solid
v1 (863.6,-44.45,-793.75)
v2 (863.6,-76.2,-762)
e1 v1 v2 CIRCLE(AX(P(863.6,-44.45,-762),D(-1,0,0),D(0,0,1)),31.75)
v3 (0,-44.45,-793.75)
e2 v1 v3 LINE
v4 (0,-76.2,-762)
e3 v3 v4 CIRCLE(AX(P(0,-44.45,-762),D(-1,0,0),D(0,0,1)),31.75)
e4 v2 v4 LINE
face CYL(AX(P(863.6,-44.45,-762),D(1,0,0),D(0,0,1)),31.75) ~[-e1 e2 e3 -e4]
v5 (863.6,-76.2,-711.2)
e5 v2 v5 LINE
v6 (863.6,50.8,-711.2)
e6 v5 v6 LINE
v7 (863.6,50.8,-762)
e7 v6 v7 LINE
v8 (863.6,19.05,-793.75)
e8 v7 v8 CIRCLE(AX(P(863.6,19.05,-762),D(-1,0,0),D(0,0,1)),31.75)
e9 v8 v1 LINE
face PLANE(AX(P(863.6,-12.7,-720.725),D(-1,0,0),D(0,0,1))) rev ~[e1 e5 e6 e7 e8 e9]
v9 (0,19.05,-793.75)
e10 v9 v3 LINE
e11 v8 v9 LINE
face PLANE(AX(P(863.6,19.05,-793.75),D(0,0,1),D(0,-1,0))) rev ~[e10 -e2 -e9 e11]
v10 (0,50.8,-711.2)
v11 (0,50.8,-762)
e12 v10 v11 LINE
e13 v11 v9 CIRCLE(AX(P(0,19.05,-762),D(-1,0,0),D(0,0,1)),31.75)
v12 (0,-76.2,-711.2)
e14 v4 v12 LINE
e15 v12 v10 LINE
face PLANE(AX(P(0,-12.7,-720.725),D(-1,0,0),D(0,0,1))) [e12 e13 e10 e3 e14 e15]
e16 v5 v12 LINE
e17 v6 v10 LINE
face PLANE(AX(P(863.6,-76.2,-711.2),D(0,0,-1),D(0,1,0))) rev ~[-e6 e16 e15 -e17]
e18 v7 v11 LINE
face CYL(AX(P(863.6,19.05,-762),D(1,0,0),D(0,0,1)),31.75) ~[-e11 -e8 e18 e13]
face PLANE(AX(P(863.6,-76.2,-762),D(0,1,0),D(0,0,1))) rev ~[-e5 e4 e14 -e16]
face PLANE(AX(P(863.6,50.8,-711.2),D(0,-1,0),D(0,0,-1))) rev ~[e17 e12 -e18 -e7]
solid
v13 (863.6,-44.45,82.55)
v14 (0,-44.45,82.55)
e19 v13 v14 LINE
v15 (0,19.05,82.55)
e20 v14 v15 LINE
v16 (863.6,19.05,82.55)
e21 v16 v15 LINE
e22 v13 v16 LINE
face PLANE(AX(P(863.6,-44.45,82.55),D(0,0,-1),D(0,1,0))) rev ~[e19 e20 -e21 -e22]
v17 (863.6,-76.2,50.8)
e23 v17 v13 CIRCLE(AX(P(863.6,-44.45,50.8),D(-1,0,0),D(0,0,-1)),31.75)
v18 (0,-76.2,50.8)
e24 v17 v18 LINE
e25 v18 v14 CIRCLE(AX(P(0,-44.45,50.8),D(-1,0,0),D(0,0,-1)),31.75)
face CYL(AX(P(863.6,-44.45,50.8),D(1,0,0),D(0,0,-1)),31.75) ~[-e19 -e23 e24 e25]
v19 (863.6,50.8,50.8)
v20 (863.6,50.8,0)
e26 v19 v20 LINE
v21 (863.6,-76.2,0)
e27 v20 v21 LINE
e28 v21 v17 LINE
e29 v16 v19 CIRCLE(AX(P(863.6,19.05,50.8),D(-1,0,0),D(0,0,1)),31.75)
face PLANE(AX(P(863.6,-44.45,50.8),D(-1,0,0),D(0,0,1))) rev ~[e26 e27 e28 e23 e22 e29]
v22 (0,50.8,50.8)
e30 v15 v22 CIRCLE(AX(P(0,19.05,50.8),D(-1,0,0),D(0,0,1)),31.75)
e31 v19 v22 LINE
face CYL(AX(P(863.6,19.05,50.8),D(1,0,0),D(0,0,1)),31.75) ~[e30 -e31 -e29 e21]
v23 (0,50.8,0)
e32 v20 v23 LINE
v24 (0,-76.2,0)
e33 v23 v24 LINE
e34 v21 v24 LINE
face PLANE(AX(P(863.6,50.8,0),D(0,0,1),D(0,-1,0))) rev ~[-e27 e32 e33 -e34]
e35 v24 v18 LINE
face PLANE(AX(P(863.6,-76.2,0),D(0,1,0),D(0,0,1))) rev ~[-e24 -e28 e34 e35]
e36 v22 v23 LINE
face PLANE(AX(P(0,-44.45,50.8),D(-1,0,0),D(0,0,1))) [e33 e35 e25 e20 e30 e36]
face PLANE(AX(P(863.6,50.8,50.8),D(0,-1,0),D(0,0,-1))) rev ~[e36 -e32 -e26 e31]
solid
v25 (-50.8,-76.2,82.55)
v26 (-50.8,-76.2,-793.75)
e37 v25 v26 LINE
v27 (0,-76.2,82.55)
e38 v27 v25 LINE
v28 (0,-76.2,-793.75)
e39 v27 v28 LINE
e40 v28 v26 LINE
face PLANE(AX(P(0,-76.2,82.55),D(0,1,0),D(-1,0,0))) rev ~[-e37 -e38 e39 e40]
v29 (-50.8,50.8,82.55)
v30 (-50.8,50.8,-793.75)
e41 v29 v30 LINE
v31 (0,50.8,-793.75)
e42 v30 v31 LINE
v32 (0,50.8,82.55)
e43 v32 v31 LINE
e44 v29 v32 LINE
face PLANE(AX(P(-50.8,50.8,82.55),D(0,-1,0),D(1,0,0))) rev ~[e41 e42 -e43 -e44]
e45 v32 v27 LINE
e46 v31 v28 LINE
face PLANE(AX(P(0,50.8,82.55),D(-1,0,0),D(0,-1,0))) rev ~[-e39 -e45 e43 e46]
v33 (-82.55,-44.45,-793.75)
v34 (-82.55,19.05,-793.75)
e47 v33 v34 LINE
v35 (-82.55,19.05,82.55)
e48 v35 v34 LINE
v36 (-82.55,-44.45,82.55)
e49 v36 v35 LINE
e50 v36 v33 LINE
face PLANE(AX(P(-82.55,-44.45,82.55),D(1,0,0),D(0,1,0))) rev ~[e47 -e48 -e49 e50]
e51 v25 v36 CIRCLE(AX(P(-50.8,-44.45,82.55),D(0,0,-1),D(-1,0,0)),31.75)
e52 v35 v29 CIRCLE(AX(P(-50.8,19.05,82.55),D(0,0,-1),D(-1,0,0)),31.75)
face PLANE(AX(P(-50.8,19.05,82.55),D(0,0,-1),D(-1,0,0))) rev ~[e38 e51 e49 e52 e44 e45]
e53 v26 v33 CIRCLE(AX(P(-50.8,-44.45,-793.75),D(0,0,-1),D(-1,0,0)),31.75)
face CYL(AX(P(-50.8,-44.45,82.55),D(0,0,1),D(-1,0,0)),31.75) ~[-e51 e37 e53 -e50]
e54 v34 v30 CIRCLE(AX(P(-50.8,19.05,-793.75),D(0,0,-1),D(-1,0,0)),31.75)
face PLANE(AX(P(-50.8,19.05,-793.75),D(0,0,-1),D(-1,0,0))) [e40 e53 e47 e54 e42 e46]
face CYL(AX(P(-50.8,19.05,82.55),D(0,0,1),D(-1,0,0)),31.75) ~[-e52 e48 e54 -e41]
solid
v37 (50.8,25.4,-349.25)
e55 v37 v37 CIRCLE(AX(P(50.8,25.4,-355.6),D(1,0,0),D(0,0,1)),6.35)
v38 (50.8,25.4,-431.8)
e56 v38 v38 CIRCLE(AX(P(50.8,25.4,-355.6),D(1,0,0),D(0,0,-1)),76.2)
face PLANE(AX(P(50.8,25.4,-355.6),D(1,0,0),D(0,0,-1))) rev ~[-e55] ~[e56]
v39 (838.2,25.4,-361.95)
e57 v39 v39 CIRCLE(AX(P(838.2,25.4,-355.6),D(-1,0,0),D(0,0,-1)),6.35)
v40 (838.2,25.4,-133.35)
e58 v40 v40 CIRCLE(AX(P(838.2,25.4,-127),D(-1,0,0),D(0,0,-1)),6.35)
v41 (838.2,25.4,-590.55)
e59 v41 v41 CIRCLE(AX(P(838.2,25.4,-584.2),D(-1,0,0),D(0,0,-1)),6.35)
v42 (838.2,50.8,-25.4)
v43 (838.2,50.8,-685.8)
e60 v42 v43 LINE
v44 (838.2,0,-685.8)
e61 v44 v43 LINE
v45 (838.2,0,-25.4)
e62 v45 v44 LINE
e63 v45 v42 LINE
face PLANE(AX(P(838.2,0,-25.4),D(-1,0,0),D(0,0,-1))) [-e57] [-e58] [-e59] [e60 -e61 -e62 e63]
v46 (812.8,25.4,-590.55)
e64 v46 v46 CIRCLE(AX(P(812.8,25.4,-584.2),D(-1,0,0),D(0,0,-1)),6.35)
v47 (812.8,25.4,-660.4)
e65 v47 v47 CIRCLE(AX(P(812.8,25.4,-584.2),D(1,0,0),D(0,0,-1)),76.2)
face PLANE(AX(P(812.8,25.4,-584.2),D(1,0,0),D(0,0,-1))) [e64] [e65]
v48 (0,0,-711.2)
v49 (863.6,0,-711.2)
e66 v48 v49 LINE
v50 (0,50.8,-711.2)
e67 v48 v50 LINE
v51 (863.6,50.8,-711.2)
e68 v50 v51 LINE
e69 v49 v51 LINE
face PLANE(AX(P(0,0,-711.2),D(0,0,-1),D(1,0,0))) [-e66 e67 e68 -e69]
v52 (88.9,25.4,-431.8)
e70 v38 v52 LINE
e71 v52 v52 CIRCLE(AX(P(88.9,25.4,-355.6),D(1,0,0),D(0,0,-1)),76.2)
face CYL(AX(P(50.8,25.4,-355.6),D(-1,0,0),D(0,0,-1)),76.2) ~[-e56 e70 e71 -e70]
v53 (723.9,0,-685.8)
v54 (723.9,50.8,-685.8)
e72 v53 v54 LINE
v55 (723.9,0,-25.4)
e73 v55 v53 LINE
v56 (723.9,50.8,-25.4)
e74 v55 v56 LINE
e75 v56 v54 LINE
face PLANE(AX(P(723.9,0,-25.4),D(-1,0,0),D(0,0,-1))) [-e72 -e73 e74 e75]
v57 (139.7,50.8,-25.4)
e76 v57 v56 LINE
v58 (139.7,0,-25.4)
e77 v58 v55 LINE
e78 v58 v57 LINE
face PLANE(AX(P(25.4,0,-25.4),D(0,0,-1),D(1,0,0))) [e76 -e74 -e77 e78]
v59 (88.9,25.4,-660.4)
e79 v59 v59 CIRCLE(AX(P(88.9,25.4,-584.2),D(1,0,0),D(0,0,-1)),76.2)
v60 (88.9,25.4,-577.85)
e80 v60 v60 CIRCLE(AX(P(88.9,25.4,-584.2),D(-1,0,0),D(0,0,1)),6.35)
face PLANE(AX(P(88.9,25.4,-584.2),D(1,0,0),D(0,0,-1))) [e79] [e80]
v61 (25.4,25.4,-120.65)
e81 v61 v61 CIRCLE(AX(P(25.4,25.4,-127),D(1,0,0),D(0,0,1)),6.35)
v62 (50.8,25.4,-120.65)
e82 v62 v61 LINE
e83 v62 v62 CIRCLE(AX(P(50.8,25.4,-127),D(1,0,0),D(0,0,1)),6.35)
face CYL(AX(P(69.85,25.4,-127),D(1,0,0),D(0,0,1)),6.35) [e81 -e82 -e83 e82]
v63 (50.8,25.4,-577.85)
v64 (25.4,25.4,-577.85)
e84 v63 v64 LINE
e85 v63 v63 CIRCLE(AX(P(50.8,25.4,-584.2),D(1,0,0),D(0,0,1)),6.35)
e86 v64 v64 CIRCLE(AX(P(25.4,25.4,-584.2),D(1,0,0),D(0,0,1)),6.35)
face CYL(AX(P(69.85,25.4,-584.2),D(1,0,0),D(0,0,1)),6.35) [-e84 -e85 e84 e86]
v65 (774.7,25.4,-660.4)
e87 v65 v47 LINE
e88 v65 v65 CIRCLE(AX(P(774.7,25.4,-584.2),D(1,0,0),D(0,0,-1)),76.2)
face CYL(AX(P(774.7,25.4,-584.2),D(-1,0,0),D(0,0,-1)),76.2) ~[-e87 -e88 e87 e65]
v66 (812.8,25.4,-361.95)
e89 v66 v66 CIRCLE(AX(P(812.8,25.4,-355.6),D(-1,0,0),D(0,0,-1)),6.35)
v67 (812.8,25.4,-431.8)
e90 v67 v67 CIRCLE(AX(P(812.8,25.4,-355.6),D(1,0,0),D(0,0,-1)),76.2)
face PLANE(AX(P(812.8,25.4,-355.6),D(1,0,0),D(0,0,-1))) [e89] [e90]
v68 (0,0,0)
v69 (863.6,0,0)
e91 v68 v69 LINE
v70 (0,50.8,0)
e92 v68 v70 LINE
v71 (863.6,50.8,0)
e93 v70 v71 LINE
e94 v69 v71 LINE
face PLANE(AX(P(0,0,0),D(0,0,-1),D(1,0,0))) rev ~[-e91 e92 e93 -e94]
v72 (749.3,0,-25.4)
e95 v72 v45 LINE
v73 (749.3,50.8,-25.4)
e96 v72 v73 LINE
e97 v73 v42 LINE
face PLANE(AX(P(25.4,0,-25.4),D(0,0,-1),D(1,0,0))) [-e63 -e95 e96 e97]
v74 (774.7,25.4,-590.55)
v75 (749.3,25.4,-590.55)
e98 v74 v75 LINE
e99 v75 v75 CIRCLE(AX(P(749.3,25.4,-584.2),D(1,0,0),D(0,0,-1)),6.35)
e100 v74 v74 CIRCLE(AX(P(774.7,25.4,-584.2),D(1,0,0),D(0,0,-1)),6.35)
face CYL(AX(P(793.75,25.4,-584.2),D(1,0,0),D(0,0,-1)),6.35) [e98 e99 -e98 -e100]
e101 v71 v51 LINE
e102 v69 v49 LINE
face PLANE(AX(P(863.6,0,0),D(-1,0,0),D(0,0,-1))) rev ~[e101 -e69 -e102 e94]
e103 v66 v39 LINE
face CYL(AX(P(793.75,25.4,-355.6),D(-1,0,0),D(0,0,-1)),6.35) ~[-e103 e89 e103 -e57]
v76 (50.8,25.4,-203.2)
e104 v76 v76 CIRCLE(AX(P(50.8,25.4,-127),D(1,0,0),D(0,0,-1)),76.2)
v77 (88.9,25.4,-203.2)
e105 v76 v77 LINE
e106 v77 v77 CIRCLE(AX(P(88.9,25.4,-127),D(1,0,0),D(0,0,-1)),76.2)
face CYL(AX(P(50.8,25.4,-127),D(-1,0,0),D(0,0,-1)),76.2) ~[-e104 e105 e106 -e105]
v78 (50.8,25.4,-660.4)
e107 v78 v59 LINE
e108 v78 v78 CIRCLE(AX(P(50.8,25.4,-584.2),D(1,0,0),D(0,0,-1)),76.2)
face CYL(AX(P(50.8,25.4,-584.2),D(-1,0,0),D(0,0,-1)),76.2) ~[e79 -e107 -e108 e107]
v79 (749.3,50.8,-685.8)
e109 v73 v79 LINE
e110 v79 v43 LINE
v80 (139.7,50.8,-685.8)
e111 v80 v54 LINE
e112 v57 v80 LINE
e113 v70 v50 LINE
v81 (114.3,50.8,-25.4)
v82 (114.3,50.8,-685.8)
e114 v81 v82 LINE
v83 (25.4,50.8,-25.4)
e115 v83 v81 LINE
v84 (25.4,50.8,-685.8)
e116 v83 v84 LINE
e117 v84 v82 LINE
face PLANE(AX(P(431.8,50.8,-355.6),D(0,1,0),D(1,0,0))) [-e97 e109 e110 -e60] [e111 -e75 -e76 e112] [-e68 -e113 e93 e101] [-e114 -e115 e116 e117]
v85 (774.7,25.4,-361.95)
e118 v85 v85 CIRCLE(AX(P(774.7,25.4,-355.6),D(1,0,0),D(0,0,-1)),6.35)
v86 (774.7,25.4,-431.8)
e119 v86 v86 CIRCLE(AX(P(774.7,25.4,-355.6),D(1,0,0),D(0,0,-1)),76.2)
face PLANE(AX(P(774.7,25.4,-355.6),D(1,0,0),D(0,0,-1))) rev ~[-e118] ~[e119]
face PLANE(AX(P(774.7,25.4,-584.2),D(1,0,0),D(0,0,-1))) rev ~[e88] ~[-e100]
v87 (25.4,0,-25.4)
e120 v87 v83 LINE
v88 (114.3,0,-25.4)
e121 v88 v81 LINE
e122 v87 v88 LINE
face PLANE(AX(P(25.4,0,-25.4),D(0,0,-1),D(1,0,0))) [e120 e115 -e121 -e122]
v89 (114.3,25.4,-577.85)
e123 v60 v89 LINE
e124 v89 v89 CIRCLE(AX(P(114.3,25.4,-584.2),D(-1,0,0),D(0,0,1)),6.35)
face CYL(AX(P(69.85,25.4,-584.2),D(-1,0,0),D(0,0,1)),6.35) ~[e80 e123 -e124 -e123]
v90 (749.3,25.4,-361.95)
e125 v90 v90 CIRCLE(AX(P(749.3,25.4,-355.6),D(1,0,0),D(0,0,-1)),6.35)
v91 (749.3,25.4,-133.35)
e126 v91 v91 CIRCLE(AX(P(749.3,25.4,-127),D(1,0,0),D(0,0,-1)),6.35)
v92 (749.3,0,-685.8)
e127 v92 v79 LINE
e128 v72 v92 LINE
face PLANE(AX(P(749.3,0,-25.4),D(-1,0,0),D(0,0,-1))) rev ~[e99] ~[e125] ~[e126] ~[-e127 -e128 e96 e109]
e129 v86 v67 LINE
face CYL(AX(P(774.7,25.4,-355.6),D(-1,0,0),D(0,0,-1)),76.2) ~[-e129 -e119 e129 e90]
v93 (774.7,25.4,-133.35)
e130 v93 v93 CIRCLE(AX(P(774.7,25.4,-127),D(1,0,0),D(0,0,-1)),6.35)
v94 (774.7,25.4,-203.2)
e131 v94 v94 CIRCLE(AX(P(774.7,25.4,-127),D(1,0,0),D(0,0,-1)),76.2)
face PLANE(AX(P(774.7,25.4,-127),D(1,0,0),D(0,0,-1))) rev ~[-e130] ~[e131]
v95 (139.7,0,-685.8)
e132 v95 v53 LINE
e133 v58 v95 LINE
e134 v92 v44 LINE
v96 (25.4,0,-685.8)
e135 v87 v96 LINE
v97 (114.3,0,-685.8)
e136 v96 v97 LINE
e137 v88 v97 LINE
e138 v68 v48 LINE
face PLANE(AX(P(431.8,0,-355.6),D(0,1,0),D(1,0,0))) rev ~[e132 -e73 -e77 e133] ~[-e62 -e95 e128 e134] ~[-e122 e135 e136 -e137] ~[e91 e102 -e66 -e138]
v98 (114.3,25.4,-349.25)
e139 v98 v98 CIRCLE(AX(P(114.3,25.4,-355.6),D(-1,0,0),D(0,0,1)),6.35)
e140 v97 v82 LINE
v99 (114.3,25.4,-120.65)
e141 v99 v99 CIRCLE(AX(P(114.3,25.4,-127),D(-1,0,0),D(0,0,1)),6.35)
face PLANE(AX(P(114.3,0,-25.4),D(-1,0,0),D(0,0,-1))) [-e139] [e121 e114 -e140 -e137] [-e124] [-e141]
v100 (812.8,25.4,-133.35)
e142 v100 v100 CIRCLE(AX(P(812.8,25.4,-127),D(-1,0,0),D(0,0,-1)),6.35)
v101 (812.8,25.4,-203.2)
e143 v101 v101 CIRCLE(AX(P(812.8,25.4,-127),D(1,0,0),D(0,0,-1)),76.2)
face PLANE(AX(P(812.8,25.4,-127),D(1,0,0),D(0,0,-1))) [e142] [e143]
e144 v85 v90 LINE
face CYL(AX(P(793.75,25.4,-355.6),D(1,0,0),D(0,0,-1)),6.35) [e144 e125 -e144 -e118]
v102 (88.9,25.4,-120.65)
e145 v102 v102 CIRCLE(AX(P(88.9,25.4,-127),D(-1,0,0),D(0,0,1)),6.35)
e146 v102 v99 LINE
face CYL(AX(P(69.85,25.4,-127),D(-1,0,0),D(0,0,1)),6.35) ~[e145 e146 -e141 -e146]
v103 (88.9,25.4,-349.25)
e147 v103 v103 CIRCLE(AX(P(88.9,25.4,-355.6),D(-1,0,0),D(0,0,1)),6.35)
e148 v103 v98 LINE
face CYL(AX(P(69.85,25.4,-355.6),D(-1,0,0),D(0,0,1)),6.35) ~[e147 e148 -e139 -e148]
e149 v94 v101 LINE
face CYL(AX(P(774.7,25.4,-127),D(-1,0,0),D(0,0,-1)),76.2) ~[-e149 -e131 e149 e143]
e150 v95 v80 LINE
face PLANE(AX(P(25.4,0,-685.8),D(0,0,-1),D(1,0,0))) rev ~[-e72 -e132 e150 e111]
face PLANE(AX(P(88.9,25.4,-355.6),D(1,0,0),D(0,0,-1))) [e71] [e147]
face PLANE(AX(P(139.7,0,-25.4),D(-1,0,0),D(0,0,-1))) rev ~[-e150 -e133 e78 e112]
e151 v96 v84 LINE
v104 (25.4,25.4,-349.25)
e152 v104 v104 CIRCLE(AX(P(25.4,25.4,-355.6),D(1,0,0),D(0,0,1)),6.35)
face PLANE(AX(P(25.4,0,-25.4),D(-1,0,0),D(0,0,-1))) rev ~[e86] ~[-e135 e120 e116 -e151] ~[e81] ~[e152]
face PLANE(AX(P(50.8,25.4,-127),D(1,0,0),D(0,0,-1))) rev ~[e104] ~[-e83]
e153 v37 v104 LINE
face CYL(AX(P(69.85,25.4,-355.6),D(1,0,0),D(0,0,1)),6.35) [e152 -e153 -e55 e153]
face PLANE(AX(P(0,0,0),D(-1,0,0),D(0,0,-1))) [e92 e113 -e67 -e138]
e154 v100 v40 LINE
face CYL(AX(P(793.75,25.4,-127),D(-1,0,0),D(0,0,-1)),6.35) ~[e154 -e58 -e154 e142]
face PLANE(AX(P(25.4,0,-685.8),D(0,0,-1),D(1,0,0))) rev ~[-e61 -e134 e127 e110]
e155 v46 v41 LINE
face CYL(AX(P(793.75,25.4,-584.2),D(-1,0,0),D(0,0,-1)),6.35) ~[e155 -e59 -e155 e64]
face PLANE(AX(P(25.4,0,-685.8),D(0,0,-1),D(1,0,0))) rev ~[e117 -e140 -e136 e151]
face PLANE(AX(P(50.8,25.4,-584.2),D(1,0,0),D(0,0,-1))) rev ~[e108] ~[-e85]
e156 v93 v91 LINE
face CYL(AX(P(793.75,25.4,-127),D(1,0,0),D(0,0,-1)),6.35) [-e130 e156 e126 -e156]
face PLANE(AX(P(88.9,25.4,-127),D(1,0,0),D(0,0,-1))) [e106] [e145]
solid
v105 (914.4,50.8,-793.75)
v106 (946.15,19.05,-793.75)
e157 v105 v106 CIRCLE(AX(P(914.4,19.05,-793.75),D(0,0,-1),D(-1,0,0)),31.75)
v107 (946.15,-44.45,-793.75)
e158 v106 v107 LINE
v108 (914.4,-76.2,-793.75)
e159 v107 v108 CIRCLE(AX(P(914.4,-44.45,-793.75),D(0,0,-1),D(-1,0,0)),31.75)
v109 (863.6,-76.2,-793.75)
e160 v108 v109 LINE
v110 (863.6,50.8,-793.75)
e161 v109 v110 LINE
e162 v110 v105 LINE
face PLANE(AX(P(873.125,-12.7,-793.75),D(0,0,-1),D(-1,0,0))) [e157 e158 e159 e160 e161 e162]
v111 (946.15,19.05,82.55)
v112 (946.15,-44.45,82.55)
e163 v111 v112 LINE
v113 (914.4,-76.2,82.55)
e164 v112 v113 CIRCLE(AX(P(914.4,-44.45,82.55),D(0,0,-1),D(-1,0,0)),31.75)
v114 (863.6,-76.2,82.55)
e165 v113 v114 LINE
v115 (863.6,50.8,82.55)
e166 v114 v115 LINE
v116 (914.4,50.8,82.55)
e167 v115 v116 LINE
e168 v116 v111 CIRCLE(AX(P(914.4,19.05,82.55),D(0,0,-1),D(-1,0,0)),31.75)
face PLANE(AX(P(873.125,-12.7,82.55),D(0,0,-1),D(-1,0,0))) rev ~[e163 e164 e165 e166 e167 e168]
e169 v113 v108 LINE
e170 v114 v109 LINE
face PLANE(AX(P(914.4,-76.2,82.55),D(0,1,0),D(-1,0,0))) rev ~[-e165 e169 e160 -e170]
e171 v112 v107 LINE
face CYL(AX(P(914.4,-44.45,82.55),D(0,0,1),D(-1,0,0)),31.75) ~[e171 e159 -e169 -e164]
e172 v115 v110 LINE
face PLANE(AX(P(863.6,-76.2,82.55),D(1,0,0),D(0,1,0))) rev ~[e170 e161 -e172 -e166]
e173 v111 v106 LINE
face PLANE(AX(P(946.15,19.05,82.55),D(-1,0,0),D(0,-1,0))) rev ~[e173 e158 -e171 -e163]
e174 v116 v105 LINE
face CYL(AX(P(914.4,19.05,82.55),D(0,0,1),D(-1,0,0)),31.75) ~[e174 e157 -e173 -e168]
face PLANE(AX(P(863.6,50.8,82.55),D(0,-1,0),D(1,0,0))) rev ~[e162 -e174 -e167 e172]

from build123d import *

# Parameters (mm, degrees)
SKETCH1_W                       = 863.6
SKETCH1_H                       = 711.2
SKETCH1_W_2                     = 812.8
SKETCH1_H_2                     = 660.4
SKETCH1_W_3                     = 25.4
BOSS_EXTRUDE1_DEPTH             = 50.8
BOSS_EXTRUDE2_DEPTH             = 19.05
BOSS_EXTRUDE2_DEPTH_BACK        = 19.05
SKETCH3_R                       = 76.2
BOSS_EXTRUDE2_2_DEPTH           = 19.05
BOSS_EXTRUDE2_2_DEPTH_BACK      = 19.05
BOSS_EXTRUDE2_3_DEPTH           = 19.05
BOSS_EXTRUDE2_3_DEPTH_BACK      = 19.05
BOSS_EXTRUDE3_REACH             = 1072.592
SKETCH4_R                       = 6.35
BOSS_EXTRUDE3_DIRECTION_2_REACH = 1072.592
BOSS_EXTRUDE4_DEPTH             = 19.05
BOSS_EXTRUDE4_DEPTH_BACK        = 19.05
SKETCH5_R                       = 76.2
BOSS_EXTRUDE4_2_DEPTH           = 19.05
BOSS_EXTRUDE4_2_DEPTH_BACK      = 19.05
BOSS_EXTRUDE4_3_DEPTH           = 19.05
BOSS_EXTRUDE4_3_DEPTH_BACK      = 19.05
BOSS_EXTRUDE5_REACH             = 1072.592
SKETCH6_R                       = 6.35
BOSS_EXTRUDE5_DIRECTION_2_REACH = 1072.592
BOSS_EXTRUDE6_DEPTH             = 82.55
BOSS_EXTRUDE6_DEPTH_BACK        = 793.75
SKETCH7_R                       = 31.75
SKETCH8_R                       = 31.75
BOSS_EXTRUDE7_DEPTH             = 863.6


with BuildPart() as part:
    # Sketch1 → Boss-Extrude1 (new body)
    # profile 1 of 3: a face of its own
    with BuildSketch(Plane(origin=(0, 0, 0), x_dir=(1, 0, 0), z_dir=(0, 1, 0))):
        with Locations((431.8, 355.6)):
            Rectangle(SKETCH1_W, SKETCH1_H)
        with Locations((431.8, 355.6)):
            Rectangle(SKETCH1_W_2, SKETCH1_H_2, mode=Mode.SUBTRACT)
    # profile 2 of 3: a face of its own
    with BuildSketch(Plane(origin=(0, 0, 0), x_dir=(1, 0, 0), z_dir=(0, 1, 0))):
        with Locations((127, 355.6)):
            Rectangle(SKETCH1_W_3, SKETCH1_H_2)
    # profile 3 of 3: a face of its own
    with BuildSketch(Plane(origin=(0, 0, 0), x_dir=(1, 0, 0), z_dir=(0, 1, 0))):
        with Locations((736.6, 355.6)):
            Rectangle(SKETCH1_W_3, SKETCH1_H_2)
    extrude(amount=BOSS_EXTRUDE1_DEPTH)

    # Boss-Extrude3: up to this face of the body (flat: up to its plane)
    boss_extrude3_end = Plane(part.part.faces().sort_by_distance((838.2, 25.4, -355.6))[0])
    # Sketch4 → Boss-Extrude3 (add, up to the picked face)
    with BuildSketch(Plane(origin=(793.75, 0, 0), x_dir=(0, 0, -1), z_dir=(1, 0, 0)), mode=Mode.PRIVATE) as boss_extrude3_sk1:
        with Locations((584.2, 25.4)):
            Circle(SKETCH4_R)
    boss_extrude3_tool1 = split(extrude(boss_extrude3_sk1.sketch, amount=BOSS_EXTRUDE3_REACH, mode=Mode.PRIVATE), bisect_by=boss_extrude3_end, keep=Keep.BOTH, mode=Mode.PRIVATE)
    # Sketch4 → Boss-Extrude3 (add, up to the picked face)
    with BuildSketch(Plane(origin=(793.75, 0, 0), x_dir=(0, 0, -1), z_dir=(1, 0, 0)), mode=Mode.PRIVATE) as boss_extrude3_sk2:
        with Locations((355.6, 25.4)):
            Circle(SKETCH4_R)
    boss_extrude3_tool2 = split(extrude(boss_extrude3_sk2.sketch, amount=BOSS_EXTRUDE3_REACH, mode=Mode.PRIVATE), bisect_by=boss_extrude3_end, keep=Keep.BOTH, mode=Mode.PRIVATE)
    # Sketch4 → Boss-Extrude3 (add, up to the picked face)
    with BuildSketch(Plane(origin=(793.75, 0, 0), x_dir=(0, 0, -1), z_dir=(1, 0, 0)), mode=Mode.PRIVATE) as boss_extrude3_sk3:
        with Locations((127, 25.4)):
            Circle(SKETCH4_R)
    boss_extrude3_tool3 = split(extrude(boss_extrude3_sk3.sketch, amount=BOSS_EXTRUDE3_REACH, mode=Mode.PRIVATE), bisect_by=boss_extrude3_end, keep=Keep.BOTH, mode=Mode.PRIVATE)


with BuildPart() as body_2:
    # Sketch3 → Boss-Extrude2 (new, two sides: drawn at the far end of the back side and taken through both)
    with BuildSketch(Plane(origin=(793.75, 0, 0), x_dir=(0, 0, -1), z_dir=(1, 0, 0)).offset(-BOSS_EXTRUDE2_DEPTH_BACK)):
        with Locations((127, 25.4)):
            Circle(SKETCH3_R)
    extrude(amount=BOSS_EXTRUDE2_DEPTH + BOSS_EXTRUDE2_DEPTH_BACK)


with BuildPart() as body_3:
    # Sketch3 → Boss-Extrude2 2 (new, two sides: drawn at the far end of the back side and taken through both)
    with BuildSketch(Plane(origin=(793.75, 0, 0), x_dir=(0, 0, -1), z_dir=(1, 0, 0)).offset(-BOSS_EXTRUDE2_2_DEPTH_BACK)):
        with Locations((355.6, 25.4)):
            Circle(SKETCH3_R)
    extrude(amount=BOSS_EXTRUDE2_2_DEPTH + BOSS_EXTRUDE2_2_DEPTH_BACK)


with BuildPart() as body_4:
    # Sketch3 → Boss-Extrude2 3 (new, two sides: drawn at the far end of the back side and taken through both)
    with BuildSketch(Plane(origin=(793.75, 0, 0), x_dir=(0, 0, -1), z_dir=(1, 0, 0)).offset(-BOSS_EXTRUDE2_3_DEPTH_BACK)):
        with Locations((584.2, 25.4)):
            Circle(SKETCH3_R)
    extrude(amount=BOSS_EXTRUDE2_3_DEPTH + BOSS_EXTRUDE2_3_DEPTH_BACK)


with BuildPart() as part_1:
    add(part.part)

    add(body_2.part)  # Boss-Extrude3 merges body 2

    add(body_3.part)  # Boss-Extrude3 merges body 3

    add(body_4.part)  # Boss-Extrude3 merges body 4
    add(boss_extrude3_tool1.solids().sort_by(Axis((793.75, 25.4, -584.2), (1, 0, 0)))[0])
    add(boss_extrude3_tool2.solids().sort_by(Axis((793.75, 25.4, -355.6), (1, 0, 0)))[0])
    add(boss_extrude3_tool3.solids().sort_by(Axis((793.75, 25.4, -127), (1, 0, 0)))[0])

    # Boss-Extrude3 direction 2: up to this face of the body (flat: up to its plane)
    boss_extrude3_direction_2_end = Plane(part_1.part.faces().sort_by_distance((749.3, 25.4, -355.6))[0])
    # Sketch4 → Boss-Extrude3 direction 2 (add, up to the picked face)
    with BuildSketch(Plane(origin=(793.75, 0, 0), x_dir=(0, 0, -1), z_dir=(1, 0, 0)), mode=Mode.PRIVATE) as boss_extrude3_direction_2_sk1:
        with Locations((584.2, 25.4)):
            Circle(SKETCH4_R)
    boss_extrude3_direction_2_tool1 = split(extrude(boss_extrude3_direction_2_sk1.sketch, amount=-BOSS_EXTRUDE3_DIRECTION_2_REACH, mode=Mode.PRIVATE), bisect_by=boss_extrude3_direction_2_end, keep=Keep.BOTH, mode=Mode.PRIVATE)
    # Sketch4 → Boss-Extrude3 direction 2 (add, up to the picked face)
    with BuildSketch(Plane(origin=(793.75, 0, 0), x_dir=(0, 0, -1), z_dir=(1, 0, 0)), mode=Mode.PRIVATE) as boss_extrude3_direction_2_sk2:
        with Locations((355.6, 25.4)):
            Circle(SKETCH4_R)
    boss_extrude3_direction_2_tool2 = split(extrude(boss_extrude3_direction_2_sk2.sketch, amount=-BOSS_EXTRUDE3_DIRECTION_2_REACH, mode=Mode.PRIVATE), bisect_by=boss_extrude3_direction_2_end, keep=Keep.BOTH, mode=Mode.PRIVATE)
    # Sketch4 → Boss-Extrude3 direction 2 (add, up to the picked face)
    with BuildSketch(Plane(origin=(793.75, 0, 0), x_dir=(0, 0, -1), z_dir=(1, 0, 0)), mode=Mode.PRIVATE) as boss_extrude3_direction_2_sk3:
        with Locations((127, 25.4)):
            Circle(SKETCH4_R)
    boss_extrude3_direction_2_tool3 = split(extrude(boss_extrude3_direction_2_sk3.sketch, amount=-BOSS_EXTRUDE3_DIRECTION_2_REACH, mode=Mode.PRIVATE), bisect_by=boss_extrude3_direction_2_end, keep=Keep.BOTH, mode=Mode.PRIVATE)
    add(boss_extrude3_direction_2_tool1.solids().sort_by(Axis((793.75, 25.4, -584.2), (-1, 0, 0)))[0])
    add(boss_extrude3_direction_2_tool2.solids().sort_by(Axis((793.75, 25.4, -355.6), (-1, 0, 0)))[0])
    add(boss_extrude3_direction_2_tool3.solids().sort_by(Axis((793.75, 25.4, -127), (-1, 0, 0)))[0])

    # Boss-Extrude5: up to this face of the body (flat: up to its plane)
    boss_extrude5_end = Plane(part_1.part.faces().sort_by_distance((114.3, 25.4, -355.6))[0])
    # Sketch6 → Boss-Extrude5 (add, up to the picked face)
    with BuildSketch(Plane(origin=(69.85, 0, 0), x_dir=(0, 0, -1), z_dir=(1, 0, 0)), mode=Mode.PRIVATE) as boss_extrude5_sk1:
        with Locations(Location((127, 25.4, 0), (0, 0, 180))):
            Circle(SKETCH6_R)
    boss_extrude5_tool1 = split(extrude(boss_extrude5_sk1.sketch, amount=BOSS_EXTRUDE5_REACH, mode=Mode.PRIVATE), bisect_by=boss_extrude5_end, keep=Keep.BOTH, mode=Mode.PRIVATE)
    # Sketch6 → Boss-Extrude5 (add, up to the picked face)
    with BuildSketch(Plane(origin=(69.85, 0, 0), x_dir=(0, 0, -1), z_dir=(1, 0, 0)), mode=Mode.PRIVATE) as boss_extrude5_sk2:
        with Locations(Location((355.6, 25.4, 0), (0, 0, 180))):
            Circle(SKETCH6_R)
    boss_extrude5_tool2 = split(extrude(boss_extrude5_sk2.sketch, amount=BOSS_EXTRUDE5_REACH, mode=Mode.PRIVATE), bisect_by=boss_extrude5_end, keep=Keep.BOTH, mode=Mode.PRIVATE)
    # Sketch6 → Boss-Extrude5 (add, up to the picked face)
    with BuildSketch(Plane(origin=(69.85, 0, 0), x_dir=(0, 0, -1), z_dir=(1, 0, 0)), mode=Mode.PRIVATE) as boss_extrude5_sk3:
        with Locations(Location((584.2, 25.4, 0), (0, 0, 180))):
            Circle(SKETCH6_R)
    boss_extrude5_tool3 = split(extrude(boss_extrude5_sk3.sketch, amount=BOSS_EXTRUDE5_REACH, mode=Mode.PRIVATE), bisect_by=boss_extrude5_end, keep=Keep.BOTH, mode=Mode.PRIVATE)


with BuildPart() as body_2_2:
    # Sketch5 → Boss-Extrude4 (new, two sides: drawn at the far end of the back side and taken through both)
    with BuildSketch(Plane(origin=(69.85, 0, 0), x_dir=(0, 0, -1), z_dir=(1, 0, 0)).offset(-BOSS_EXTRUDE4_DEPTH_BACK)):
        with Locations((584.2, 25.4)):
            Circle(SKETCH5_R)
    extrude(amount=BOSS_EXTRUDE4_DEPTH + BOSS_EXTRUDE4_DEPTH_BACK)


with BuildPart() as body_3_2:
    # Sketch5 → Boss-Extrude4 2 (new, two sides: drawn at the far end of the back side and taken through both)
    with BuildSketch(Plane(origin=(69.85, 0, 0), x_dir=(0, 0, -1), z_dir=(1, 0, 0)).offset(-BOSS_EXTRUDE4_2_DEPTH_BACK)):
        with Locations((355.6, 25.4)):
            Circle(SKETCH5_R)
    extrude(amount=BOSS_EXTRUDE4_2_DEPTH + BOSS_EXTRUDE4_2_DEPTH_BACK)


with BuildPart() as body_4_2:
    # Sketch5 → Boss-Extrude4 3 (new, two sides: drawn at the far end of the back side and taken through both)
    with BuildSketch(Plane(origin=(69.85, 0, 0), x_dir=(0, 0, -1), z_dir=(1, 0, 0)).offset(-BOSS_EXTRUDE4_3_DEPTH_BACK)):
        with Locations((127, 25.4)):
            Circle(SKETCH5_R)
    extrude(amount=BOSS_EXTRUDE4_3_DEPTH + BOSS_EXTRUDE4_3_DEPTH_BACK)


with BuildPart() as part_2:
    add(part_1.part)

    add(body_2_2.part)  # Boss-Extrude5 merges body 2 2

    add(body_3_2.part)  # Boss-Extrude5 merges body 3 2

    add(body_4_2.part)  # Boss-Extrude5 merges body 4 2
    add(boss_extrude5_tool1.solids().sort_by(Axis((69.85, 25.4, -127), (1, 0, 0)))[0])
    add(boss_extrude5_tool2.solids().sort_by(Axis((69.85, 25.4, -355.6), (1, 0, 0)))[0])
    add(boss_extrude5_tool3.solids().sort_by(Axis((69.85, 25.4, -584.2), (1, 0, 0)))[0])

    # Boss-Extrude5 direction 2: up to this face of the body (flat: up to its plane)
    boss_extrude5_direction_2_end = Plane(part_2.part.faces().sort_by_distance((25.4, 25.4, -355.6))[0])
    # Sketch6 → Boss-Extrude5 direction 2 (add, up to the picked face)
    with BuildSketch(Plane(origin=(69.85, 0, 0), x_dir=(0, 0, -1), z_dir=(1, 0, 0)), mode=Mode.PRIVATE) as boss_extrude5_direction_2_sk1:
        with Locations(Location((127, 25.4, 0), (0, 0, 180))):
            Circle(SKETCH6_R)
    boss_extrude5_direction_2_tool1 = split(extrude(boss_extrude5_direction_2_sk1.sketch, amount=-BOSS_EXTRUDE5_DIRECTION_2_REACH, mode=Mode.PRIVATE), bisect_by=boss_extrude5_direction_2_end, keep=Keep.BOTH, mode=Mode.PRIVATE)
    # Sketch6 → Boss-Extrude5 direction 2 (add, up to the picked face)
    with BuildSketch(Plane(origin=(69.85, 0, 0), x_dir=(0, 0, -1), z_dir=(1, 0, 0)), mode=Mode.PRIVATE) as boss_extrude5_direction_2_sk2:
        with Locations(Location((355.6, 25.4, 0), (0, 0, 180))):
            Circle(SKETCH6_R)
    boss_extrude5_direction_2_tool2 = split(extrude(boss_extrude5_direction_2_sk2.sketch, amount=-BOSS_EXTRUDE5_DIRECTION_2_REACH, mode=Mode.PRIVATE), bisect_by=boss_extrude5_direction_2_end, keep=Keep.BOTH, mode=Mode.PRIVATE)
    # Sketch6 → Boss-Extrude5 direction 2 (add, up to the picked face)
    with BuildSketch(Plane(origin=(69.85, 0, 0), x_dir=(0, 0, -1), z_dir=(1, 0, 0)), mode=Mode.PRIVATE) as boss_extrude5_direction_2_sk3:
        with Locations(Location((584.2, 25.4, 0), (0, 0, 180))):
            Circle(SKETCH6_R)
    boss_extrude5_direction_2_tool3 = split(extrude(boss_extrude5_direction_2_sk3.sketch, amount=-BOSS_EXTRUDE5_DIRECTION_2_REACH, mode=Mode.PRIVATE), bisect_by=boss_extrude5_direction_2_end, keep=Keep.BOTH, mode=Mode.PRIVATE)
    add(boss_extrude5_direction_2_tool1.solids().sort_by(Axis((69.85, 25.4, -127), (-1, 0, 0)))[0])
    add(boss_extrude5_direction_2_tool2.solids().sort_by(Axis((69.85, 25.4, -355.6), (-1, 0, 0)))[0])
    add(boss_extrude5_direction_2_tool3.solids().sort_by(Axis((69.85, 25.4, -584.2), (-1, 0, 0)))[0])


with BuildPart() as body_2_3:
    # Sketch7 → Boss-Extrude6 (new, two sides: drawn at the far end of the back side and taken through both)
    with BuildSketch(Plane(origin=(0, 0, -711.2), x_dir=(-1, 0, 0), z_dir=(0, 0, -1)).offset(-BOSS_EXTRUDE6_DEPTH_BACK)):
        Polygon((-882.65, -44.45), (-882.65, -76.2), (-863.6, -76.2), (-863.6, 0), (-863.6, 50.8), (-882.65, 50.8), (-882.65, 19.05), align=None)
        with BuildLine():
            Line((-914.4, -76.2), (-882.65, -76.2))
            Line((-882.65, -76.2), (-882.65, -44.45))
            ThreePointArc((-882.65, -44.45), (-891.949359697, -66.900640303), (-914.4, -76.2))
        make_face()
        with Locations((-914.4, -44.45)):
            Circle(SKETCH7_R)
        with BuildLine():
            ThreePointArc((-914.4, -12.7), (-891.949359697, -21.999359697), (-882.65, -44.45))
            Line((-882.65, -44.45), (-882.65, 19.05))
            ThreePointArc((-882.65, 19.05), (-891.949359697, -3.400640303), (-914.4, -12.7))
        make_face()
        with BuildLine():
            ThreePointArc((-914.4, 50.8), (-891.949359697, 41.500640303), (-882.65, 19.05))
            Line((-882.65, 19.05), (-882.65, 50.8))
            Line((-882.65, 50.8), (-914.4, 50.8))
        make_face()
        with Locations((-914.4, 19.05)):
            Circle(SKETCH7_R)
        with BuildLine():
            Line((-946.15, 19.05), (-946.15, -44.45))
            ThreePointArc((-946.15, -44.45), (-936.850640303, -21.999359697), (-914.4, -12.7))
            ThreePointArc((-914.4, -12.7), (-936.850640303, -3.400640303), (-946.15, 19.05))
        make_face()
        with Locations((50.8, 19.05)):
            Circle(SKETCH7_R)
        with BuildLine():
            ThreePointArc((50.8, -12.7), (73.250640303, -21.999359697), (82.55, -44.45))
            Line((82.55, -44.45), (82.55, 19.05))
            ThreePointArc((82.55, 19.05), (73.250640303, -3.400640303), (50.8, -12.7))
        make_face()
        with Locations((50.8, -44.45)):
            Circle(SKETCH7_R)
        Polygon((0, -76.2), (19.05, -76.2), (19.05, -44.45), (19.05, 19.05), (19.05, 50.8), (0, 50.8), (0, 0), align=None)
        with BuildLine():
            ThreePointArc((19.05, -44.45), (28.349359697, -21.999359697), (50.8, -12.7))
            ThreePointArc((50.8, -12.7), (28.349359697, -3.400640303), (19.05, 19.05))
            Line((19.05, 19.05), (19.05, -44.45))
        make_face()
        with BuildLine():
            ThreePointArc((19.05, 19.05), (28.349359697, 41.500640303), (50.8, 50.8))
            Line((50.8, 50.8), (19.05, 50.8))
            Line((19.05, 50.8), (19.05, 19.05))
        make_face()
        with BuildLine():
            Line((19.05, -76.2), (50.8, -76.2))
            ThreePointArc((50.8, -76.2), (28.349359697, -66.900640303), (19.05, -44.45))
            Line((19.05, -44.45), (19.05, -76.2))
        make_face()
    extrude(amount=BOSS_EXTRUDE6_DEPTH + BOSS_EXTRUDE6_DEPTH_BACK)


with BuildPart() as body_3_3:
    # Sketch8 → Boss-Extrude7 (new body)
    with BuildSketch(Plane.ZY.offset(-863.6)):
        with Locations((50.8, -44.45)):
            Circle(SKETCH8_R)
        Polygon((19.05, 50.8), (0, 50.8), (0, -76.2), (19.05, -76.2), (19.05, -44.45), (19.05, 19.05), align=None)
        with BuildLine():
            Line((19.05, -44.45), (19.05, -76.2))
            Line((19.05, -76.2), (50.8, -76.2))
            ThreePointArc((50.8, -76.2), (28.349359697, -66.900640303), (19.05, -44.45))
        make_face()
        with BuildLine():
            ThreePointArc((50.8, -12.7), (28.349359697, -3.400640303), (19.05, 19.05))
            Line((19.05, 19.05), (19.05, -44.45))
            ThreePointArc((19.05, -44.45), (28.349359697, -21.999359697), (50.8, -12.7))
        make_face()
        with BuildLine():
            Line((50.8, 50.8), (19.05, 50.8))
            Line((19.05, 50.8), (19.05, 19.05))
            ThreePointArc((19.05, 19.05), (28.349359697, 41.500640303), (50.8, 50.8))
        make_face()
        with BuildLine():
            Line((82.55, -44.45), (82.55, 19.05))
            ThreePointArc((82.55, 19.05), (73.250640303, -3.400640303), (50.8, -12.7))
            ThreePointArc((50.8, -12.7), (73.250640303, -21.999359697), (82.55, -44.45))
        make_face()
        with Locations((50.8, 19.05)):
            Circle(SKETCH8_R)
        Polygon((-711.2, -76.2), (-711.2, 50.8), (-730.25, 50.8), (-730.25, 19.05), (-730.25, -44.45), (-730.25, -76.2), align=None)
        with BuildLine():
            Line((-762, -76.2), (-730.25, -76.2))
            Line((-730.25, -76.2), (-730.25, -44.45))
            ThreePointArc((-730.25, -44.45), (-739.549359697, -66.900640303), (-762, -76.2))
        make_face()
        with Locations((-762, -44.45)):
            Circle(SKETCH8_R)
        with BuildLine():
            Line((-730.25, -44.45), (-730.25, 19.05))
            ThreePointArc((-730.25, 19.05), (-739.549359697, -3.400640303), (-762, -12.7))
            ThreePointArc((-762, -12.7), (-739.549359697, -21.999359697), (-730.25, -44.45))
        make_face()
        with Locations((-762, 19.05)):
            Circle(SKETCH8_R)
        with BuildLine():
            ThreePointArc((-793.75, -44.45), (-784.450640303, -21.999359697), (-762, -12.7))
            ThreePointArc((-762, -12.7), (-784.450640303, -3.400640303), (-793.75, 19.05))
            Line((-793.75, 19.05), (-793.75, -44.45))
        make_face()
        with BuildLine():
            Line((-730.25, 19.05), (-730.25, 50.8))
            Line((-730.25, 50.8), (-762, 50.8))
            ThreePointArc((-762, 50.8), (-739.549359697, 41.500640303), (-730.25, 19.05))
        make_face()
    extrude(amount=BOSS_EXTRUDE7_DEPTH)


solid = Compound([part_2.part, body_2_3.part, body_3_3.part])
